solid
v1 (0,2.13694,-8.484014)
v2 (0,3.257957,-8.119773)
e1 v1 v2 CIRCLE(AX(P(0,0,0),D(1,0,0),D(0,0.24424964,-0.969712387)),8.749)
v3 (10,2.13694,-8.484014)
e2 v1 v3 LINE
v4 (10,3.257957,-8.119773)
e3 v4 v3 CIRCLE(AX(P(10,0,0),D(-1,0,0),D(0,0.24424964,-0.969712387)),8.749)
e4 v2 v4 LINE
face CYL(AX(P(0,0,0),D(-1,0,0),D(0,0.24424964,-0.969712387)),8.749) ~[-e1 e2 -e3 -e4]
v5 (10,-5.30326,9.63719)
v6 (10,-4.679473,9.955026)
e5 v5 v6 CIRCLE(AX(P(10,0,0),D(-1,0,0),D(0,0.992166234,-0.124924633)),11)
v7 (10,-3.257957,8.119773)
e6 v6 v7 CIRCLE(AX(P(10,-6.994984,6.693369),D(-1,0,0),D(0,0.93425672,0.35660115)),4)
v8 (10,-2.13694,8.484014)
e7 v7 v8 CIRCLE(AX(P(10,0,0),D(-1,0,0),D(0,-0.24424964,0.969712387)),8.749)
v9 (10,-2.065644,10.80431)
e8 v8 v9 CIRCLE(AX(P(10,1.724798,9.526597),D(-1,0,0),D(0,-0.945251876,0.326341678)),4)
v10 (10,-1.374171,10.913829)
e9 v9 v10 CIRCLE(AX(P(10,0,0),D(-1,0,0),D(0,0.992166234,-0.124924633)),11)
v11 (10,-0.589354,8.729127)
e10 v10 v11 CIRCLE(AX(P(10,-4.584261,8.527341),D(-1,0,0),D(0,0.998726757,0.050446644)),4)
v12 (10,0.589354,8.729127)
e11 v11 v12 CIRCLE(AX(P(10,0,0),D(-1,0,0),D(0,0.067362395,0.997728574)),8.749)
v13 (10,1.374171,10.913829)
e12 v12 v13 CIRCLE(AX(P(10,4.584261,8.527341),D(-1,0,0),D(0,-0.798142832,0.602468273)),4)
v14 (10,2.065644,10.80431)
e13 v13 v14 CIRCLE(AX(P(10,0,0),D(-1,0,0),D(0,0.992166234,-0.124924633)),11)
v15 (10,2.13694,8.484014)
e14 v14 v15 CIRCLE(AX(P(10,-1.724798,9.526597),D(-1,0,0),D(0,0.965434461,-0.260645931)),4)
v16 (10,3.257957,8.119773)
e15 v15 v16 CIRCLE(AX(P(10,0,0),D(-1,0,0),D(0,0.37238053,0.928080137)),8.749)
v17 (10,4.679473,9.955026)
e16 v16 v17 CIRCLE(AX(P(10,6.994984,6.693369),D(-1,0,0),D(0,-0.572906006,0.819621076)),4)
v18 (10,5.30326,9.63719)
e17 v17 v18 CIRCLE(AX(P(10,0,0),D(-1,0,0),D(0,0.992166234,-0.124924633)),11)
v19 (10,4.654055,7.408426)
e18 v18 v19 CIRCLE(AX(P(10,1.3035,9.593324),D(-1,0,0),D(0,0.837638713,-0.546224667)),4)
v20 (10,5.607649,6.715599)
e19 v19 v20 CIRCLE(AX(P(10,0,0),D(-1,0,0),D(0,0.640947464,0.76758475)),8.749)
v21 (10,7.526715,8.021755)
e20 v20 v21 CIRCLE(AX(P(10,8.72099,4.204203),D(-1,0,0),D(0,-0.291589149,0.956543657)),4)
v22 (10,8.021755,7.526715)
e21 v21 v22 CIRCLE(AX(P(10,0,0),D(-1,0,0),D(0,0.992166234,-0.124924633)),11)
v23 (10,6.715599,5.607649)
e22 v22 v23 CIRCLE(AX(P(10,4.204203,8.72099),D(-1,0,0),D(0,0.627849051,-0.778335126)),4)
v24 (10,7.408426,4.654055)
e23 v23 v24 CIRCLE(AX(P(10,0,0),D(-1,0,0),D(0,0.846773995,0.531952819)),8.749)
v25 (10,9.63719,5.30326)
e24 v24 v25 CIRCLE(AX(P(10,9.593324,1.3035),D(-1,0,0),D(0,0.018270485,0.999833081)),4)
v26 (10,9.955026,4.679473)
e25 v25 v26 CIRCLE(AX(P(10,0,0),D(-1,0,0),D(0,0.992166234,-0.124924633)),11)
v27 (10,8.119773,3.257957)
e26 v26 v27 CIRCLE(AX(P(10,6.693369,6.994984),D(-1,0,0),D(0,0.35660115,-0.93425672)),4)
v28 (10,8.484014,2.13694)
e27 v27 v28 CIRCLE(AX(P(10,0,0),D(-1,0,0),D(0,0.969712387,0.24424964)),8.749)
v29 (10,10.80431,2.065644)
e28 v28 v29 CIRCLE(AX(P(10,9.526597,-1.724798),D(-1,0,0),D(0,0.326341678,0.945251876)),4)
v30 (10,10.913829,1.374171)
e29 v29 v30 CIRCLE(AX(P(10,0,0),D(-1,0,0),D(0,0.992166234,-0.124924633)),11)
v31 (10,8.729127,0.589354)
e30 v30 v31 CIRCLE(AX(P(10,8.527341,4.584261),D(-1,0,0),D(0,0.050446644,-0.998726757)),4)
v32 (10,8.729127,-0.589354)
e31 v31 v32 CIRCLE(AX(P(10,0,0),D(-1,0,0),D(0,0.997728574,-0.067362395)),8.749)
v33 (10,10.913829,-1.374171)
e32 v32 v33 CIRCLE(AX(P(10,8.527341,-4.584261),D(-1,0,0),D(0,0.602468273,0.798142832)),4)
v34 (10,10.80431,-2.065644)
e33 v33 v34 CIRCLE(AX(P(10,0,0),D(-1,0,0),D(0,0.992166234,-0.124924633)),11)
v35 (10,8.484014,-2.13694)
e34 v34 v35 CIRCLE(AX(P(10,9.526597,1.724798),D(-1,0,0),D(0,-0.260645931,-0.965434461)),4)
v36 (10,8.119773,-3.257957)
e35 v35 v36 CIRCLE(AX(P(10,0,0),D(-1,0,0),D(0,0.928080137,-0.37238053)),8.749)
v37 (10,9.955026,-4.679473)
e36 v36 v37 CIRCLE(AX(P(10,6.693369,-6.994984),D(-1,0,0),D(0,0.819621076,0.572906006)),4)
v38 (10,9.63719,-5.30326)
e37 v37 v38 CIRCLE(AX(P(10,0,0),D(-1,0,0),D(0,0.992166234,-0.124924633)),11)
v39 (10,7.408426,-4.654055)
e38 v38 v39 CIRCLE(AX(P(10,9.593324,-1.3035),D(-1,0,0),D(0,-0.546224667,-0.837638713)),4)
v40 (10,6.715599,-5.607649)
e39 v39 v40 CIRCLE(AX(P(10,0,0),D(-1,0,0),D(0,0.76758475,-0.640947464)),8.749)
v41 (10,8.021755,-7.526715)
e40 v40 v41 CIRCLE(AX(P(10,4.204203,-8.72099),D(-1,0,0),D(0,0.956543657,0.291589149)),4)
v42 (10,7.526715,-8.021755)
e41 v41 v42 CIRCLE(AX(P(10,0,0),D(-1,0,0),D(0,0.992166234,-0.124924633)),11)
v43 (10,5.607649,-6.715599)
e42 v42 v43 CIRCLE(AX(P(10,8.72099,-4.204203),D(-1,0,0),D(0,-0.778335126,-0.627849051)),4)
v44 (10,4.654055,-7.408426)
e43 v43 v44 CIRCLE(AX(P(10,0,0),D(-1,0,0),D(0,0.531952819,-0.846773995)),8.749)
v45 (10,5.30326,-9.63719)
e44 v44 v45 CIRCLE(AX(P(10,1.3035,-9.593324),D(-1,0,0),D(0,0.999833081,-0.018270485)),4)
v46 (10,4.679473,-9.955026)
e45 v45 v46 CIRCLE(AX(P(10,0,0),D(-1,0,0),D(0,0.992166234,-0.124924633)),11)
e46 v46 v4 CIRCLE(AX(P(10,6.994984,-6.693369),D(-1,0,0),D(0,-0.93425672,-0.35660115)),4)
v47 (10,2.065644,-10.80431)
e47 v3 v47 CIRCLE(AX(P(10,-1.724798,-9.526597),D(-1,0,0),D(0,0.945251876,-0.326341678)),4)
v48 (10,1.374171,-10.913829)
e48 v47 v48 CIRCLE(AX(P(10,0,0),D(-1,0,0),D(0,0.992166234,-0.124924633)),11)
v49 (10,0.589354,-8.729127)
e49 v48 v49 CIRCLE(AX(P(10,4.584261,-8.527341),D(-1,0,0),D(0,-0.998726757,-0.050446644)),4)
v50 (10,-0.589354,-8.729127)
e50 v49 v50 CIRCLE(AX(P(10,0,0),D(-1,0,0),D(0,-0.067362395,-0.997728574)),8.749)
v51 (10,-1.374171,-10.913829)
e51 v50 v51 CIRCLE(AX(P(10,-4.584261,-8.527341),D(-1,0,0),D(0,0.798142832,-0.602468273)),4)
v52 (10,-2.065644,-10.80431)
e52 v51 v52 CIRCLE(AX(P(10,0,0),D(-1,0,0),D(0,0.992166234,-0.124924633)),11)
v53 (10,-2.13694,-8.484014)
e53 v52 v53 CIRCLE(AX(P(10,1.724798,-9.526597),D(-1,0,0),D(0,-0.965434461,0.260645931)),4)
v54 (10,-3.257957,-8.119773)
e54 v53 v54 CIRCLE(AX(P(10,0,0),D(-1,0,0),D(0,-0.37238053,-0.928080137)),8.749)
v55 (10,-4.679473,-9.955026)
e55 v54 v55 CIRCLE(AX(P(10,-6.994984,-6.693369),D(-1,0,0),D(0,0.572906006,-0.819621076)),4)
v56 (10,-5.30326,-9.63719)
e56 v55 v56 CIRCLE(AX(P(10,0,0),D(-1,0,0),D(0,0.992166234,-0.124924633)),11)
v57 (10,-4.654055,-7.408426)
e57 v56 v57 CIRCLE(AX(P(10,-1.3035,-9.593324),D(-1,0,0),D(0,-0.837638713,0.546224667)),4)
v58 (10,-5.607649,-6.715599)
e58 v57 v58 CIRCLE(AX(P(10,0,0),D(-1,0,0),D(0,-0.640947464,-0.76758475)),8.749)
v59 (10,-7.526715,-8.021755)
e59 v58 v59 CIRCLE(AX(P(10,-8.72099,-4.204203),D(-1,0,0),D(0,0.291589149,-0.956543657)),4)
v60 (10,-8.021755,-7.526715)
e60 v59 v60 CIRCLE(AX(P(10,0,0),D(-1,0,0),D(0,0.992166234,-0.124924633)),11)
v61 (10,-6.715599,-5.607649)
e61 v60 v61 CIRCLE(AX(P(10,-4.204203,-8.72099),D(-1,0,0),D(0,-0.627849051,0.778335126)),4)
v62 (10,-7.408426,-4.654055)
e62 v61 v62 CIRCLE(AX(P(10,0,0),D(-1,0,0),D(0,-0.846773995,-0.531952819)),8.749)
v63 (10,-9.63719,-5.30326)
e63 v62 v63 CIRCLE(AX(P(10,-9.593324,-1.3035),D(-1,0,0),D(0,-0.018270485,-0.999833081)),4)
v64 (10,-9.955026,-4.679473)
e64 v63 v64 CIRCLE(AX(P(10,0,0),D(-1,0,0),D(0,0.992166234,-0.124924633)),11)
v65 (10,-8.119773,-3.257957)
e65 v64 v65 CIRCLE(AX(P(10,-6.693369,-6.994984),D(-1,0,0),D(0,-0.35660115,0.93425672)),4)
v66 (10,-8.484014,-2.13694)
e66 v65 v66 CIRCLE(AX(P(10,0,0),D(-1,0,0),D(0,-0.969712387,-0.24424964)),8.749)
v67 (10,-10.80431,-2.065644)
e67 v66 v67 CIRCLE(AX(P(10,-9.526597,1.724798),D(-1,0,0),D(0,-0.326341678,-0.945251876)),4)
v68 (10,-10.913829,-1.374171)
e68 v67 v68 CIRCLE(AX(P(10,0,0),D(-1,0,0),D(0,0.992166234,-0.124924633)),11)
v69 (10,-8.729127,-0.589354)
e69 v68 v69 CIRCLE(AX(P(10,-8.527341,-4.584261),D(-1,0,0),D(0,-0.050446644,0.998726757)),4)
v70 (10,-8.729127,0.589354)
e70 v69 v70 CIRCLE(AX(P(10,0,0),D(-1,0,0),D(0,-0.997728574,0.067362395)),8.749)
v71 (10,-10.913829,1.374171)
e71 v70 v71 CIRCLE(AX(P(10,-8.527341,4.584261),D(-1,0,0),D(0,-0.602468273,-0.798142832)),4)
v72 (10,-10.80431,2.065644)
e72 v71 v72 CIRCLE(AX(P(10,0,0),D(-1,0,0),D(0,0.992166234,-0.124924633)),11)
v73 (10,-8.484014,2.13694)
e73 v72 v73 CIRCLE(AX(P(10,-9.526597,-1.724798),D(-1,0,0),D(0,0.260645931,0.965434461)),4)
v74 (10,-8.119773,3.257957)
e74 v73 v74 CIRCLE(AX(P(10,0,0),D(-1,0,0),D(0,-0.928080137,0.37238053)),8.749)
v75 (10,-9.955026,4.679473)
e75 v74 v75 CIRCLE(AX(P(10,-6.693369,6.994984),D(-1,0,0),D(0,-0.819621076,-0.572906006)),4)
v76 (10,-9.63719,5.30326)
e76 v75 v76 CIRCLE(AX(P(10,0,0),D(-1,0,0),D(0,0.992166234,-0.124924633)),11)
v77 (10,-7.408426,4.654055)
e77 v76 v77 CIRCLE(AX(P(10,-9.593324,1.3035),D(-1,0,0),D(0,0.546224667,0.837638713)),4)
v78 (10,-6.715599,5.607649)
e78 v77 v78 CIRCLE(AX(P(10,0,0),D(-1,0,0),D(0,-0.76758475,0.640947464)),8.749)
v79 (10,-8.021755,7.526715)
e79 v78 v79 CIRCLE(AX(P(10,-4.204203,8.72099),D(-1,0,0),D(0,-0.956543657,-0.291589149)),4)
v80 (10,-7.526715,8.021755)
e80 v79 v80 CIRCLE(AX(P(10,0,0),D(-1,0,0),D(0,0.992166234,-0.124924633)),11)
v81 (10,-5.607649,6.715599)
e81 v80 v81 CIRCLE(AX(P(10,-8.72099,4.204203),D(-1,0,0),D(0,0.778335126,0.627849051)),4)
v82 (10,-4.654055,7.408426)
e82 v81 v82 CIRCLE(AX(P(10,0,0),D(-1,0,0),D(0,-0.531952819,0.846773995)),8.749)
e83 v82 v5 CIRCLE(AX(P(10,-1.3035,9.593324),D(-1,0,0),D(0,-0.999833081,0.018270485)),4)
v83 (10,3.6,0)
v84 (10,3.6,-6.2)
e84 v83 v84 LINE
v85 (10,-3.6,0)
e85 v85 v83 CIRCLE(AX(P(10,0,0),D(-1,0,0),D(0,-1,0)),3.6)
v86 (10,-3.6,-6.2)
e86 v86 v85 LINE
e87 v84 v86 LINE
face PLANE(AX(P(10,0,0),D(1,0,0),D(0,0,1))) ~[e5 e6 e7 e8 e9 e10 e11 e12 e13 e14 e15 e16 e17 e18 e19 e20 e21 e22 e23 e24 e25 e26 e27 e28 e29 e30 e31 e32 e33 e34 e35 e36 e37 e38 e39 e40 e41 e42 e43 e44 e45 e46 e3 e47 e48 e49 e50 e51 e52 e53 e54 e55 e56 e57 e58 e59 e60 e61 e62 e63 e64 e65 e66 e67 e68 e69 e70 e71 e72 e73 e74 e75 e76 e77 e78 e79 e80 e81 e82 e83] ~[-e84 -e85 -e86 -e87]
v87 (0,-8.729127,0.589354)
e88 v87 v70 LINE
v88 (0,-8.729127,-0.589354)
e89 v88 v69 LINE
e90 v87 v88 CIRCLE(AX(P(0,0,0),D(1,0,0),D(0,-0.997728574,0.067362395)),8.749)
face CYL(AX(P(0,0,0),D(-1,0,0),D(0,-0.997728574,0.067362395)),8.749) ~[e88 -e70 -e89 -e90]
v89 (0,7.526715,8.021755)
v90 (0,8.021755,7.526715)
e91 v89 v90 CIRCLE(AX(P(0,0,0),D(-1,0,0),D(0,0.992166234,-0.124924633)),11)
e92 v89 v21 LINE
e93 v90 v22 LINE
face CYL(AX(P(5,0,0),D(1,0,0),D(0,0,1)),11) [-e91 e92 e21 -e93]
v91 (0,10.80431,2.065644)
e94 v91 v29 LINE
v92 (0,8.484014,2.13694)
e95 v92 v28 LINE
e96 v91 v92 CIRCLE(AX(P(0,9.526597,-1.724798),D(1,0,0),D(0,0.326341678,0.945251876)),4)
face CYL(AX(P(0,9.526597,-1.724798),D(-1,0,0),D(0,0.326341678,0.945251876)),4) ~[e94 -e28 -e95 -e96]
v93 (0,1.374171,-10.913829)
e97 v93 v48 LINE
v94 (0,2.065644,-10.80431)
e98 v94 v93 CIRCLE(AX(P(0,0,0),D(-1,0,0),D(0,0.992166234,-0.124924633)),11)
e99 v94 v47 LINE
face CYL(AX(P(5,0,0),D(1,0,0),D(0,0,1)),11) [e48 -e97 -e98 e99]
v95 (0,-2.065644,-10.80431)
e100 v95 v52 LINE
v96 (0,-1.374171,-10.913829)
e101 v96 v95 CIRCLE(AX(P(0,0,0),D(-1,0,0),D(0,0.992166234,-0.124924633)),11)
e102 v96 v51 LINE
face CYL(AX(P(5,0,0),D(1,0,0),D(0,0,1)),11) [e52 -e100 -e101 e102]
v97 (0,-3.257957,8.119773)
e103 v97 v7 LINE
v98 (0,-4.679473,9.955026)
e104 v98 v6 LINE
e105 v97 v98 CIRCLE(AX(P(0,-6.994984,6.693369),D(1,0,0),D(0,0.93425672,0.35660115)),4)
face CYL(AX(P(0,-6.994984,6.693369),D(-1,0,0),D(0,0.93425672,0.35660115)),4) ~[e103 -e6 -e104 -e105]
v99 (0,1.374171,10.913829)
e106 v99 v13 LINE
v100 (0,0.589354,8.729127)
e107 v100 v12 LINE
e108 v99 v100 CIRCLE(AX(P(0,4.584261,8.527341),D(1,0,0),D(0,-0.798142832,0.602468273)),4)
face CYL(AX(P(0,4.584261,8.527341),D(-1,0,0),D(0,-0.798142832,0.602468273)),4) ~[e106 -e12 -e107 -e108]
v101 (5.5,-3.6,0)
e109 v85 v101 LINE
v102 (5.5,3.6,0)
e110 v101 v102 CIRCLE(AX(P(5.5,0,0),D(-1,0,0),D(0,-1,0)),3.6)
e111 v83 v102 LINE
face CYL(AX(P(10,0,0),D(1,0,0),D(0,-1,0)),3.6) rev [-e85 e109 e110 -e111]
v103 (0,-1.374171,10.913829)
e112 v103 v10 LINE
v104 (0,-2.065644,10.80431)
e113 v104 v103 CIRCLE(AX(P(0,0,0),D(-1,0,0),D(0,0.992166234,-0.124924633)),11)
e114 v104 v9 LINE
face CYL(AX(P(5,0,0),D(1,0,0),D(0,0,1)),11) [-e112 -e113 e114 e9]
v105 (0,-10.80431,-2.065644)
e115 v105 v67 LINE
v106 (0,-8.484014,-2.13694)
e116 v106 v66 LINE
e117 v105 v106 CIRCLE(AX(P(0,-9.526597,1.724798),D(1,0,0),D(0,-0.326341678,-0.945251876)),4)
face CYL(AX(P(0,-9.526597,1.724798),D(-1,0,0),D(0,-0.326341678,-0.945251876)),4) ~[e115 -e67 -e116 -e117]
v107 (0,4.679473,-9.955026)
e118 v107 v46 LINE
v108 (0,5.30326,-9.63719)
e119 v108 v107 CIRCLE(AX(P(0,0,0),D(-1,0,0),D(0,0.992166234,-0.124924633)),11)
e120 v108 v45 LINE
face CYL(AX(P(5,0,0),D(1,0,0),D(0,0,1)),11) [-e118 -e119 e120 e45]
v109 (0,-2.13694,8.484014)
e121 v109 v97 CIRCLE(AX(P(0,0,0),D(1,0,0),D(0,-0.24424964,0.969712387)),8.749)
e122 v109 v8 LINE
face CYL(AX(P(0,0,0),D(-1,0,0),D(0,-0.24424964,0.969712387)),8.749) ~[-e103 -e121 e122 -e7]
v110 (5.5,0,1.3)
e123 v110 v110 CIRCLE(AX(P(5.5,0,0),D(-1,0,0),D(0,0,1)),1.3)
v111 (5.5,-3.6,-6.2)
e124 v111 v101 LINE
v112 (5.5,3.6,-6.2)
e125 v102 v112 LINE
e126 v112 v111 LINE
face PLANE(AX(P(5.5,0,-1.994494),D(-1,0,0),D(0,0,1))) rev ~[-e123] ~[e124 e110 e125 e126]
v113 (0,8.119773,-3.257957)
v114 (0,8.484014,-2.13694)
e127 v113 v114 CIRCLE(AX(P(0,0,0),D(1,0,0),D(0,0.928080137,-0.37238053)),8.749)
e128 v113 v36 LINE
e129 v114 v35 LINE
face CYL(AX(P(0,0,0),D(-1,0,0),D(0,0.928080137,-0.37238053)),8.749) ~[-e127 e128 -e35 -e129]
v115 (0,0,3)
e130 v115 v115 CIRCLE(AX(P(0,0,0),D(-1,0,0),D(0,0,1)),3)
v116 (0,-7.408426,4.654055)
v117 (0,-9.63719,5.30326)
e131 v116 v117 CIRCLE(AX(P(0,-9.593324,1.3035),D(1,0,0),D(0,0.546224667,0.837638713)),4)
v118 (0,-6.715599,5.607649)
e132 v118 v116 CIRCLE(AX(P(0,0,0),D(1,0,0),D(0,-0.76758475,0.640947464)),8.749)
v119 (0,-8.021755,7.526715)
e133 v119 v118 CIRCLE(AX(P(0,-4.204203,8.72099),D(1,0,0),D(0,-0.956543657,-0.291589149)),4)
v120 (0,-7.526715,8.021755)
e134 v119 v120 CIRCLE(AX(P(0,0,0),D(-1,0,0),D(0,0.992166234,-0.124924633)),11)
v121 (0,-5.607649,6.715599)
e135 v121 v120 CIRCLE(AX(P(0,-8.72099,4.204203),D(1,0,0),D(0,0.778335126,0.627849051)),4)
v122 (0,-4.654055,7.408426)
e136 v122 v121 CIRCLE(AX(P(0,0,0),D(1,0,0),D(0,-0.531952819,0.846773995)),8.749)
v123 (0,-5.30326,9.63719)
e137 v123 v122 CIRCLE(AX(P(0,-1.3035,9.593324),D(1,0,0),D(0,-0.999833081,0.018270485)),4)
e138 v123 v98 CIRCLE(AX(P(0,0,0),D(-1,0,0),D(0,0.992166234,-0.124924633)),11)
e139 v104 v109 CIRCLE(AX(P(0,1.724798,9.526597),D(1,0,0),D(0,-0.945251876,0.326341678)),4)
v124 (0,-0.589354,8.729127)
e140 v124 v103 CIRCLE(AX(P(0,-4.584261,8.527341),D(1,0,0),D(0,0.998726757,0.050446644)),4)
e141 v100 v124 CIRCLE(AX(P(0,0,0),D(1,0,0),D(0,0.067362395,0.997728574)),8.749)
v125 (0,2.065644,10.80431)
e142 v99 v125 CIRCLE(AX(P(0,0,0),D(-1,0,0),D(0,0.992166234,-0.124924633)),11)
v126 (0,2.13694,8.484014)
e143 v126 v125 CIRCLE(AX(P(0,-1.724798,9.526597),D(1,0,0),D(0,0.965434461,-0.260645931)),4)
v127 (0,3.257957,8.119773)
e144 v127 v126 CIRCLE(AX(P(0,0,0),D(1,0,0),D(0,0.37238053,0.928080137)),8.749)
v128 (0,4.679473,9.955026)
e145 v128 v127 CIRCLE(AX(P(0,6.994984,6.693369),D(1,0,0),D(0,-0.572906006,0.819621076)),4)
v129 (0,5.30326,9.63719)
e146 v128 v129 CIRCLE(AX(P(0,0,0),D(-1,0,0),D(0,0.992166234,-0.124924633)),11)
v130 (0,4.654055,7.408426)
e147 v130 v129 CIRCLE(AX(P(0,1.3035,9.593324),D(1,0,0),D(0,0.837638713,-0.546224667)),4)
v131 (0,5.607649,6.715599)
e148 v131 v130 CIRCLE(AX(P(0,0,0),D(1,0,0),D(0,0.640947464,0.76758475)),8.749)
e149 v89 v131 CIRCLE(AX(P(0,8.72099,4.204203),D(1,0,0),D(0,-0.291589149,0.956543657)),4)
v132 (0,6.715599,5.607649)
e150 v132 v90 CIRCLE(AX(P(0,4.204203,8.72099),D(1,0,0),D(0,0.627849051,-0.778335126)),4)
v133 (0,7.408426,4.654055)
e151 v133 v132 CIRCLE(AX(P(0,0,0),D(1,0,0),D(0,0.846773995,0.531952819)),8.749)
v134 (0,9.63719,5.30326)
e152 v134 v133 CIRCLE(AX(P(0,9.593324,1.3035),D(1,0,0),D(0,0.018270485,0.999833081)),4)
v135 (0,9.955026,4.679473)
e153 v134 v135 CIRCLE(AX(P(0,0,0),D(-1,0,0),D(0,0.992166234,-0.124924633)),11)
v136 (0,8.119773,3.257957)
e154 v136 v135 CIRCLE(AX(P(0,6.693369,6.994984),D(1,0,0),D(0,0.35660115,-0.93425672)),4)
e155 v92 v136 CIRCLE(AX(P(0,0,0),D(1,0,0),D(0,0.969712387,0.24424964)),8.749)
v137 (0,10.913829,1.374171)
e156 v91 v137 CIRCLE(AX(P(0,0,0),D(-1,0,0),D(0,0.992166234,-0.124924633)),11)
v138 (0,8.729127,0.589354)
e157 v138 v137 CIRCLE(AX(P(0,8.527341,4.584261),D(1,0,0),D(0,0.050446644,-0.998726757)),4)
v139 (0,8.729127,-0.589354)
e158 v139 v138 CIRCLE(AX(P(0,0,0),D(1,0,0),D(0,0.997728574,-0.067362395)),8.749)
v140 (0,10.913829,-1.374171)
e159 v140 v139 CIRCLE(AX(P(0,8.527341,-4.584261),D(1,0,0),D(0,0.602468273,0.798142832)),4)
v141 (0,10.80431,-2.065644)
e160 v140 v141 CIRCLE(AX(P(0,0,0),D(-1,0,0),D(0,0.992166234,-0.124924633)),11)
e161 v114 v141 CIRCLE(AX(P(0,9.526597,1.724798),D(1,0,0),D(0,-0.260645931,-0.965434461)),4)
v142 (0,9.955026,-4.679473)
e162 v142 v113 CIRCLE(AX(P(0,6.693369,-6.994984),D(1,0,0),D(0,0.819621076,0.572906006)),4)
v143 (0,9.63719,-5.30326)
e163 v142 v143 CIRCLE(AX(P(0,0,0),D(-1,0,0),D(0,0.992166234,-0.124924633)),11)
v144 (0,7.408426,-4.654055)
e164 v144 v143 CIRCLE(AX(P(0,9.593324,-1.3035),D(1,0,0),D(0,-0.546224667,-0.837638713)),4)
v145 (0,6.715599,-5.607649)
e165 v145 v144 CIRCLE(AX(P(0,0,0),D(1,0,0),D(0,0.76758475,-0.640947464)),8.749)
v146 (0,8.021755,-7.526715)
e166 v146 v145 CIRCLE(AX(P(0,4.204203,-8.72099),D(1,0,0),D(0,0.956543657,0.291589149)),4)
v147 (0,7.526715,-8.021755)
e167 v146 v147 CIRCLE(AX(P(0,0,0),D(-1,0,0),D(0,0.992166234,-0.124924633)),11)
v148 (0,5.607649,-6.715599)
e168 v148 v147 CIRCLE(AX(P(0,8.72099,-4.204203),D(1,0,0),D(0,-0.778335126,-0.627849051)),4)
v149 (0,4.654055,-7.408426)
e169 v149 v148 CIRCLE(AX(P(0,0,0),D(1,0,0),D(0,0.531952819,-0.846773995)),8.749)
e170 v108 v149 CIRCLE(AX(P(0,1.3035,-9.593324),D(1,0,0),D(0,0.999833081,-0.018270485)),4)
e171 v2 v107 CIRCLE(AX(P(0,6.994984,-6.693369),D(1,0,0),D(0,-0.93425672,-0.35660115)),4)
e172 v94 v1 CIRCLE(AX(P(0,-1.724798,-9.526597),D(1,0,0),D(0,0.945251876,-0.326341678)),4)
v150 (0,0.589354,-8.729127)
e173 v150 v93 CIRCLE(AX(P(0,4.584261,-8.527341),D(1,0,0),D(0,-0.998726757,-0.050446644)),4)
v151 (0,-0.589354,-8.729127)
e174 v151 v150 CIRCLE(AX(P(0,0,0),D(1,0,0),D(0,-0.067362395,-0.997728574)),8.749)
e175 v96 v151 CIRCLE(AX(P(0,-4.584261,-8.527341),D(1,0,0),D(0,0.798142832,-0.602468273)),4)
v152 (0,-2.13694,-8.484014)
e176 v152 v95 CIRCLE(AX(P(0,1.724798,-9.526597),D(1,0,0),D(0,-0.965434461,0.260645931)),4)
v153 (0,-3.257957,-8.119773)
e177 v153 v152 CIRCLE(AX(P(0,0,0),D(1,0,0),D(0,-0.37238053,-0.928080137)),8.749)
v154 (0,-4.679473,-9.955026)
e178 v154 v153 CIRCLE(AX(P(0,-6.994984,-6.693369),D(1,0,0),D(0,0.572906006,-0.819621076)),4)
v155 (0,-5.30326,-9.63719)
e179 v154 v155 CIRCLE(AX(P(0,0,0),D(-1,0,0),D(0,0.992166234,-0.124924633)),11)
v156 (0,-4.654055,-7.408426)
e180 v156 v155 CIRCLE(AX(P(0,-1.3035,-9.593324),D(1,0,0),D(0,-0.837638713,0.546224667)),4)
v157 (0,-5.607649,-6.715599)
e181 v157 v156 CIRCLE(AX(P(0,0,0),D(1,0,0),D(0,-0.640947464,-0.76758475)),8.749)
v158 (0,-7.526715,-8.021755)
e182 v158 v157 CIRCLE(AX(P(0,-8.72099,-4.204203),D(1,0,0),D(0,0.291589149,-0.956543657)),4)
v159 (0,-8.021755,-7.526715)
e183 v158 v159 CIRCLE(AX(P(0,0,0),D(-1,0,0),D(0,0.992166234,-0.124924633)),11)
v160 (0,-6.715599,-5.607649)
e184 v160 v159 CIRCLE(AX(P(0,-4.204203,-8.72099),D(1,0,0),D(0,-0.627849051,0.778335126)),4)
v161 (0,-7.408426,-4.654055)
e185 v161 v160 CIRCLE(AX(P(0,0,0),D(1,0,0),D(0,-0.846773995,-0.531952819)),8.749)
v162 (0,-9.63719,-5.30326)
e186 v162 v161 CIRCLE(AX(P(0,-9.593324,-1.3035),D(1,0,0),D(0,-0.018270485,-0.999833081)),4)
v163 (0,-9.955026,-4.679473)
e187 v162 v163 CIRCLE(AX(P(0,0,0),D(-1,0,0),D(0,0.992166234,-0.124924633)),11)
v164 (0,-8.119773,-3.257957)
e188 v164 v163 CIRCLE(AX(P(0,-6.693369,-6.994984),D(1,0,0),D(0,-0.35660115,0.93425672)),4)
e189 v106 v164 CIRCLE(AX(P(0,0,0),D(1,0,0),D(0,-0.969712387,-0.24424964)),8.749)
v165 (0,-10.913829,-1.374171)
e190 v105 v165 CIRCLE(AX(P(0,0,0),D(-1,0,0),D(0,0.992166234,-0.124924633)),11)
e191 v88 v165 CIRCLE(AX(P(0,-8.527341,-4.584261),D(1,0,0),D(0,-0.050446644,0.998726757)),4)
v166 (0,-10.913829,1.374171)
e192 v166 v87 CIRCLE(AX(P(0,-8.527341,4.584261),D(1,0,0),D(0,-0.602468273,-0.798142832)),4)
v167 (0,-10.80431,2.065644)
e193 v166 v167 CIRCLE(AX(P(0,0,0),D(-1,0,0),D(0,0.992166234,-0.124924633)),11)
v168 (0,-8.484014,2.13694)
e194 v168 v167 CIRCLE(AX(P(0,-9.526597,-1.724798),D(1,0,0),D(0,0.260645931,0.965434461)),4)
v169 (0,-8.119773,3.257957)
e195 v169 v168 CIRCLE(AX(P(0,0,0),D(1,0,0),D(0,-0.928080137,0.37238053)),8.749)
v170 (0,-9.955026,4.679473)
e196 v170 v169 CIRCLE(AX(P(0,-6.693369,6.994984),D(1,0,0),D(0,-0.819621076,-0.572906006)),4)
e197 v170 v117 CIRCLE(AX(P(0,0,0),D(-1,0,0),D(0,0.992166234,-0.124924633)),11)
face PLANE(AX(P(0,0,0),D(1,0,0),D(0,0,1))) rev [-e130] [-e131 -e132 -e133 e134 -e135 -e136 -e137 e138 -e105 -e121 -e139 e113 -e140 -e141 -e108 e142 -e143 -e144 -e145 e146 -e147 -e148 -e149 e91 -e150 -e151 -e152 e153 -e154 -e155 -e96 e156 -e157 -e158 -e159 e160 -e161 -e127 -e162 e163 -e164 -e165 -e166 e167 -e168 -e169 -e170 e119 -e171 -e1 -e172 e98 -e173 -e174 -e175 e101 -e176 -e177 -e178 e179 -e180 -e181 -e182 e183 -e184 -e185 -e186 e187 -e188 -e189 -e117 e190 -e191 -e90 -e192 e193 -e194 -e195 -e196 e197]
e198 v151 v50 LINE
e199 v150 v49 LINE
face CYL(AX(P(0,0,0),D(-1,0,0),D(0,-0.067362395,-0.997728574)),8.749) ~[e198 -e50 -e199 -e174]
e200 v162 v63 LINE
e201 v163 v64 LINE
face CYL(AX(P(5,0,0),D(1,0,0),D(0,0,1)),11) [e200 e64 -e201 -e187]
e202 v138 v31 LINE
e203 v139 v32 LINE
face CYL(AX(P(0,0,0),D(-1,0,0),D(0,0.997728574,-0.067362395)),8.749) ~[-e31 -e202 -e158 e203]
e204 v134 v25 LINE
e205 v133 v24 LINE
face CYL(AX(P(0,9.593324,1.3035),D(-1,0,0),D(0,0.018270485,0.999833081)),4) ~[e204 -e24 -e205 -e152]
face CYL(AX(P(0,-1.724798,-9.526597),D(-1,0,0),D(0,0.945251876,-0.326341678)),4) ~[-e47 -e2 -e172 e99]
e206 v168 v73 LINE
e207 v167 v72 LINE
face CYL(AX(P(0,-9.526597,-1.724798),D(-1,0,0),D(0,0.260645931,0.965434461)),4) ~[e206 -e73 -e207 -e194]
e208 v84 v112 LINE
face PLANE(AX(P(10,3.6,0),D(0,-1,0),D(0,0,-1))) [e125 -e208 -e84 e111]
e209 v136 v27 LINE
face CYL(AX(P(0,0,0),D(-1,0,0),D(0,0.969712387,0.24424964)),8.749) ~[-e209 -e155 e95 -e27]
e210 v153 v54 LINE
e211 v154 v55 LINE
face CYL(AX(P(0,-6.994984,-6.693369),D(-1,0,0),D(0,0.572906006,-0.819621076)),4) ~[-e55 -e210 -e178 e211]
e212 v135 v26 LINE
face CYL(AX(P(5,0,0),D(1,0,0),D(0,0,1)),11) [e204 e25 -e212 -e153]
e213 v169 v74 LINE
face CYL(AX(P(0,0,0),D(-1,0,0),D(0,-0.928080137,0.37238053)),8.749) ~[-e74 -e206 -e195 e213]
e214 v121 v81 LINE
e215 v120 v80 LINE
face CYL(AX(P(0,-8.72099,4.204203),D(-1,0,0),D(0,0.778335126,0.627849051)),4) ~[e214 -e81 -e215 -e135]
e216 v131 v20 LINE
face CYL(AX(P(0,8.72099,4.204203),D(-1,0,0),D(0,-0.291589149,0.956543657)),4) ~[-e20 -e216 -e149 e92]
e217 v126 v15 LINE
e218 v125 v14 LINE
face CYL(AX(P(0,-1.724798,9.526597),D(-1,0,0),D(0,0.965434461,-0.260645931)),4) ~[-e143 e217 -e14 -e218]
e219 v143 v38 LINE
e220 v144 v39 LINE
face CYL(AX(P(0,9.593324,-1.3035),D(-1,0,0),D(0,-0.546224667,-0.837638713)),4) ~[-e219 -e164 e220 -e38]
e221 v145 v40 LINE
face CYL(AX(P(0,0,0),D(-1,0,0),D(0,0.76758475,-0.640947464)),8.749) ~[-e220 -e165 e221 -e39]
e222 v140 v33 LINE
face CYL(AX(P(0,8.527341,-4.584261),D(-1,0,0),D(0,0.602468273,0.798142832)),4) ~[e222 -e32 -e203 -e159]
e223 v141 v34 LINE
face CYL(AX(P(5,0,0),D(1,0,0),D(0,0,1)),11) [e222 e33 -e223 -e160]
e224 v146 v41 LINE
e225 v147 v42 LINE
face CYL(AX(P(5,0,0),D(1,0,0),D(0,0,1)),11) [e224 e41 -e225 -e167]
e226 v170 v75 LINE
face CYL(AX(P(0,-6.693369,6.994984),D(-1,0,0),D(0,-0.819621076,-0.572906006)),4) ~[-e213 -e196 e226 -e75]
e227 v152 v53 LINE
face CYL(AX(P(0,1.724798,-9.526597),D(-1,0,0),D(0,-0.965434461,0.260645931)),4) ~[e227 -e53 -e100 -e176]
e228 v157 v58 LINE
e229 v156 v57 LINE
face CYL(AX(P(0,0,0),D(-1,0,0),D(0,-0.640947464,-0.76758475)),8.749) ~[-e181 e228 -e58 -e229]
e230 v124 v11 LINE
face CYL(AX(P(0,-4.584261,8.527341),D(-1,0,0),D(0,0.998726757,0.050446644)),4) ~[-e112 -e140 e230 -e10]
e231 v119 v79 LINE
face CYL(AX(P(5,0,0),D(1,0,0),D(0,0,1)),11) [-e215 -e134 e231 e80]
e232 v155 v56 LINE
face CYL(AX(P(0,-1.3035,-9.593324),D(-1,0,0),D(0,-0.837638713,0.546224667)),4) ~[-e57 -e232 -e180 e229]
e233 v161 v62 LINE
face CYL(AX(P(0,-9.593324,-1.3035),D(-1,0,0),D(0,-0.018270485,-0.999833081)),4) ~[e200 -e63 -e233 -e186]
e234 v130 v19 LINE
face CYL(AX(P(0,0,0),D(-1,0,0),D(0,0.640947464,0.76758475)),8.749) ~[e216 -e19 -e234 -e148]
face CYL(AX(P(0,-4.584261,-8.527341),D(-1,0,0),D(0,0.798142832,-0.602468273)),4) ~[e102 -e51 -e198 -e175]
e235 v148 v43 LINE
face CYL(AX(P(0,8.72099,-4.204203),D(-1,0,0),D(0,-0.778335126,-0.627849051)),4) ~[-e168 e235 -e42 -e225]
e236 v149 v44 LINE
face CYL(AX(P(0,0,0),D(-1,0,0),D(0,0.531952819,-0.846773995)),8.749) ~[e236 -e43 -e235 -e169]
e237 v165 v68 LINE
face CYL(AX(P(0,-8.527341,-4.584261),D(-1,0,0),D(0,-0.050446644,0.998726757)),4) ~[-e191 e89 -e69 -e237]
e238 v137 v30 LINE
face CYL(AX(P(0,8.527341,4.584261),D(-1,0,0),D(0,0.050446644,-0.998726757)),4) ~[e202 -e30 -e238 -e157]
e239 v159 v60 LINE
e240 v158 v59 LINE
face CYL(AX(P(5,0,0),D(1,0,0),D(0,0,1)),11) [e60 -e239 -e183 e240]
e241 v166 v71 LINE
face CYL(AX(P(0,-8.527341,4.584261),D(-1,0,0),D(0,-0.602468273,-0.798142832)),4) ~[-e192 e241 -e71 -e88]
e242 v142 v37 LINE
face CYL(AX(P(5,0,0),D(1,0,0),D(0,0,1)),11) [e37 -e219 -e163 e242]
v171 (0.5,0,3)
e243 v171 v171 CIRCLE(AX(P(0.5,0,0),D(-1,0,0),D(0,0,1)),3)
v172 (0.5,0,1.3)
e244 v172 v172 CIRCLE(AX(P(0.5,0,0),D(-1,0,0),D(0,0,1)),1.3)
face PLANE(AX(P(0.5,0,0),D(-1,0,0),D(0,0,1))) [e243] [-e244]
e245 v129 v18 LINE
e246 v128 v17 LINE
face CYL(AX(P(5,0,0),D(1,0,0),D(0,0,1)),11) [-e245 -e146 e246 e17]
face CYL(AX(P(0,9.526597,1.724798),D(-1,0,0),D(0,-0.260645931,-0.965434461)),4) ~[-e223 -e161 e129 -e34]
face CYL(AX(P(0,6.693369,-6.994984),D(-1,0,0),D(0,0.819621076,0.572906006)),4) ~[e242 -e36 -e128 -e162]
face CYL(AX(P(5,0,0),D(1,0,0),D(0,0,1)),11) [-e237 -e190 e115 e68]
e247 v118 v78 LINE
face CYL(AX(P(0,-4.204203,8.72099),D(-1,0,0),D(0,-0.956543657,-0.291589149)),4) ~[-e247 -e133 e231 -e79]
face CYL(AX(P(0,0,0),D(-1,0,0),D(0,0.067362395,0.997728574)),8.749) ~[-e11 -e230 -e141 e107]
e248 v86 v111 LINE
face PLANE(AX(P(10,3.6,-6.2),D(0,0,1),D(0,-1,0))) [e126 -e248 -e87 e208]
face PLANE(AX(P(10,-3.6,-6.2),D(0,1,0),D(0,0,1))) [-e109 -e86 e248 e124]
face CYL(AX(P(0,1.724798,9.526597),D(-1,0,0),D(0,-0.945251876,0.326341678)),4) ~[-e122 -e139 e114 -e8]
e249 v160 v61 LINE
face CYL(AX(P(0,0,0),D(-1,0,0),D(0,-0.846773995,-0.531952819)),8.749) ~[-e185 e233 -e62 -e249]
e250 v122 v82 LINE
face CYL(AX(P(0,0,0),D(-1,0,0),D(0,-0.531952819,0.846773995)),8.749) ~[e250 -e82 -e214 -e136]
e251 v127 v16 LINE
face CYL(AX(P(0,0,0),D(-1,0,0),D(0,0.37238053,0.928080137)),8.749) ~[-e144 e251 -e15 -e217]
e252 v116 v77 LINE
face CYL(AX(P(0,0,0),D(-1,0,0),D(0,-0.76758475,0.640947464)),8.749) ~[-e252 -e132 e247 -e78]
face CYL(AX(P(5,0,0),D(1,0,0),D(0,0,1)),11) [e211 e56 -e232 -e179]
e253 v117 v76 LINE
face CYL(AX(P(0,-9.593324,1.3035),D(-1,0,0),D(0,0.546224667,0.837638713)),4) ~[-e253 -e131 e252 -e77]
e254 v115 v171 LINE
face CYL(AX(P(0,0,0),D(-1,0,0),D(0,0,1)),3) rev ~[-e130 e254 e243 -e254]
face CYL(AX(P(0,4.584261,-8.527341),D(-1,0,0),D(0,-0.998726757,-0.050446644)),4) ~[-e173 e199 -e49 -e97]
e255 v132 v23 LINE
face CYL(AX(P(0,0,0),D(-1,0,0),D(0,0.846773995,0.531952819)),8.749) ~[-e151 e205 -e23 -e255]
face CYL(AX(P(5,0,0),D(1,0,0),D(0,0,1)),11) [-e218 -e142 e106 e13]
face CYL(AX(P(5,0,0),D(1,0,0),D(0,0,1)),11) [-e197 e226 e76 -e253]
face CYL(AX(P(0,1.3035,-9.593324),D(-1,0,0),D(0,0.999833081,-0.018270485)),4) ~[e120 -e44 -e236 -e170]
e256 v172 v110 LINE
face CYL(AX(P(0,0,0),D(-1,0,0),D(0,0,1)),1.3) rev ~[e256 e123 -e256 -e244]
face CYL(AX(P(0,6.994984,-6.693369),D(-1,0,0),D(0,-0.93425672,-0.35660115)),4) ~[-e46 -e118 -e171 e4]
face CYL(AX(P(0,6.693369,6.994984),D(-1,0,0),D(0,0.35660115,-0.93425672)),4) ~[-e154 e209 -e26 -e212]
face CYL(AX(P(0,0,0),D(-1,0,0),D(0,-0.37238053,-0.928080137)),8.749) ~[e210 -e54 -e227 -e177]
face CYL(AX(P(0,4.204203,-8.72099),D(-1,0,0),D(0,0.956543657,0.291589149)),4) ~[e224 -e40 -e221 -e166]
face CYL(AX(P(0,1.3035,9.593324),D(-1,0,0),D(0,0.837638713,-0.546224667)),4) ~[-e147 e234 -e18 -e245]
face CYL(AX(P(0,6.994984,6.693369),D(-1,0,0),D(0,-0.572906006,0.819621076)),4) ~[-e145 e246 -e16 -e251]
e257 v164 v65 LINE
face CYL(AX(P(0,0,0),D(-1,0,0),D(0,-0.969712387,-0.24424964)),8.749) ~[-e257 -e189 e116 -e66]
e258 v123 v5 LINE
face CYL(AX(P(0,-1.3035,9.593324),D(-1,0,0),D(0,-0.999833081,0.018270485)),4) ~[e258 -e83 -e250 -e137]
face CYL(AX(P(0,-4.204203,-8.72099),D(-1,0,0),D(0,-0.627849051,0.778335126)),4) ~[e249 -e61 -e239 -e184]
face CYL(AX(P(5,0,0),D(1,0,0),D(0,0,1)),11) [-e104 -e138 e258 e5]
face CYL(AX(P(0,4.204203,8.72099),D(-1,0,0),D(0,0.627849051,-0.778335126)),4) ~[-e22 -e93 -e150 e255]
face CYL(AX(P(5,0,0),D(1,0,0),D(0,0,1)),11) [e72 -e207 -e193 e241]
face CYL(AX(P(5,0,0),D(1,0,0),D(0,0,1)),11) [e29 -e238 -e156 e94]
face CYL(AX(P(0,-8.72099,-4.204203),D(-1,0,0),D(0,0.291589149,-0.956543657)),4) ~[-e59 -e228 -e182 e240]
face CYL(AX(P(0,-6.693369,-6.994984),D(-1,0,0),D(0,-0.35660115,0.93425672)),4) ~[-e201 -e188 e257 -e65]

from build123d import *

# Parameters (mm, degrees)
BASPROSKE_W        = 10
BASPROSKE_H        = 11
TOOTHCUT_DEPTH     = 19.493242009
TEETHCUTS_COUNT    = 20
TEETHCUTS_ANGLE    = 342
BORSKE_R           = 0.75
BORE_DEPTH         = 50.0000508
CUT_EXTRUDE1_DEPTH = 4.5
SKETCH2_R          = 1.3
CUT_EXTRUDE2_DEPTH = 10
SKETCH3_R          = 3
CUT_EXTRUDE3_DEPTH = 0.5


with BuildPart() as part:
    # BasProSke → Base-Revolve (revolve)
    with BuildSketch(Plane(origin=(0, 0, 0), x_dir=(1, 0, 0), z_dir=(0, 1, 0)), mode=Mode.PRIVATE) as base_revolve_sk:
        with Locations((5, 5.5)):
            Rectangle(BASPROSKE_W, BASPROSKE_H)
    revolve(base_revolve_sk.sketch.rotate(Axis((-10, 0, 0), (1, 0, 0)), 180), axis=Axis((-10, 0, 0), (1, 0, 0)))

    # TooCutSke → ToothCut (cut, through all)
    with BuildSketch(Plane(origin=(0, 0, 0), x_dir=(0, 0, -1), z_dir=(1, 0, 0))):
        with BuildLine():
            ThreePointArc((0.589353609, 8.729127295), (0, 8.749), (-0.589353609, 8.729127295))
            ThreePointArc((-0.589353609, 8.729127295), (-0.82475631, 9.893403384), (-1.391689312, 10.937213814))
            ThreePointArc((-1.391689312, 10.937213814), (0, 11.0254), (1.391689312, 10.937213814))
            ThreePointArc((1.391689312, 10.937213814), (0.82475631, 9.893403384), (0.589353609, 8.729127295))
        make_face()
    toothcut = extrude(amount=TOOTHCUT_DEPTH, mode=Mode.SUBTRACT)

    # TeethCuts: ToothCut ×20 about axis
    teethcuts_axis = Axis((-10, 0, 0), (1, 0, 0))
    for i in range(1, TEETHCUTS_COUNT):
        add(toothcut.rotate(teethcuts_axis, i * TEETHCUTS_ANGLE / (TEETHCUTS_COUNT - 1)), mode=Mode.SUBTRACT)

    # BorSke → Bore (cut, symmetric)
    with BuildSketch(Plane(origin=(0, 0, 0), x_dir=(0, 0, -1), z_dir=(1, 0, 0))):
        with Locations(Location((0, 0, 0), (0, 0, 180))):
            Circle(BORSKE_R)
    extrude(amount=BORE_DEPTH, both=True, mode=Mode.SUBTRACT)

    # Sketch1 → Cut-Extrude1 (cut)
    with BuildSketch(Plane(origin=(10, 0, 0), x_dir=(0, 0, -1), z_dir=(1, 0, 0))):
        with BuildLine():
            Line((0, 3.6), (6.2, 3.6))
            Line((6.2, 3.6), (6.2, -3.6))
            Line((6.2, -3.6), (0, -3.6))
            ThreePointArc((0, -3.6), (-3.6, 0), (0, 3.6))
        make_face()
    extrude(amount=-CUT_EXTRUDE1_DEPTH, mode=Mode.SUBTRACT)

    # Sketch2 → Cut-Extrude2 (cut)
    with BuildSketch(Plane.ZY):
        Circle(SKETCH2_R)
    extrude(amount=-CUT_EXTRUDE2_DEPTH, mode=Mode.SUBTRACT)

    # Sketch3 → Cut-Extrude3 (cut)
    with BuildSketch(Plane.ZY):
        Circle(SKETCH3_R)
    extrude(amount=-CUT_EXTRUDE3_DEPTH, mode=Mode.SUBTRACT)


solid = part.part
